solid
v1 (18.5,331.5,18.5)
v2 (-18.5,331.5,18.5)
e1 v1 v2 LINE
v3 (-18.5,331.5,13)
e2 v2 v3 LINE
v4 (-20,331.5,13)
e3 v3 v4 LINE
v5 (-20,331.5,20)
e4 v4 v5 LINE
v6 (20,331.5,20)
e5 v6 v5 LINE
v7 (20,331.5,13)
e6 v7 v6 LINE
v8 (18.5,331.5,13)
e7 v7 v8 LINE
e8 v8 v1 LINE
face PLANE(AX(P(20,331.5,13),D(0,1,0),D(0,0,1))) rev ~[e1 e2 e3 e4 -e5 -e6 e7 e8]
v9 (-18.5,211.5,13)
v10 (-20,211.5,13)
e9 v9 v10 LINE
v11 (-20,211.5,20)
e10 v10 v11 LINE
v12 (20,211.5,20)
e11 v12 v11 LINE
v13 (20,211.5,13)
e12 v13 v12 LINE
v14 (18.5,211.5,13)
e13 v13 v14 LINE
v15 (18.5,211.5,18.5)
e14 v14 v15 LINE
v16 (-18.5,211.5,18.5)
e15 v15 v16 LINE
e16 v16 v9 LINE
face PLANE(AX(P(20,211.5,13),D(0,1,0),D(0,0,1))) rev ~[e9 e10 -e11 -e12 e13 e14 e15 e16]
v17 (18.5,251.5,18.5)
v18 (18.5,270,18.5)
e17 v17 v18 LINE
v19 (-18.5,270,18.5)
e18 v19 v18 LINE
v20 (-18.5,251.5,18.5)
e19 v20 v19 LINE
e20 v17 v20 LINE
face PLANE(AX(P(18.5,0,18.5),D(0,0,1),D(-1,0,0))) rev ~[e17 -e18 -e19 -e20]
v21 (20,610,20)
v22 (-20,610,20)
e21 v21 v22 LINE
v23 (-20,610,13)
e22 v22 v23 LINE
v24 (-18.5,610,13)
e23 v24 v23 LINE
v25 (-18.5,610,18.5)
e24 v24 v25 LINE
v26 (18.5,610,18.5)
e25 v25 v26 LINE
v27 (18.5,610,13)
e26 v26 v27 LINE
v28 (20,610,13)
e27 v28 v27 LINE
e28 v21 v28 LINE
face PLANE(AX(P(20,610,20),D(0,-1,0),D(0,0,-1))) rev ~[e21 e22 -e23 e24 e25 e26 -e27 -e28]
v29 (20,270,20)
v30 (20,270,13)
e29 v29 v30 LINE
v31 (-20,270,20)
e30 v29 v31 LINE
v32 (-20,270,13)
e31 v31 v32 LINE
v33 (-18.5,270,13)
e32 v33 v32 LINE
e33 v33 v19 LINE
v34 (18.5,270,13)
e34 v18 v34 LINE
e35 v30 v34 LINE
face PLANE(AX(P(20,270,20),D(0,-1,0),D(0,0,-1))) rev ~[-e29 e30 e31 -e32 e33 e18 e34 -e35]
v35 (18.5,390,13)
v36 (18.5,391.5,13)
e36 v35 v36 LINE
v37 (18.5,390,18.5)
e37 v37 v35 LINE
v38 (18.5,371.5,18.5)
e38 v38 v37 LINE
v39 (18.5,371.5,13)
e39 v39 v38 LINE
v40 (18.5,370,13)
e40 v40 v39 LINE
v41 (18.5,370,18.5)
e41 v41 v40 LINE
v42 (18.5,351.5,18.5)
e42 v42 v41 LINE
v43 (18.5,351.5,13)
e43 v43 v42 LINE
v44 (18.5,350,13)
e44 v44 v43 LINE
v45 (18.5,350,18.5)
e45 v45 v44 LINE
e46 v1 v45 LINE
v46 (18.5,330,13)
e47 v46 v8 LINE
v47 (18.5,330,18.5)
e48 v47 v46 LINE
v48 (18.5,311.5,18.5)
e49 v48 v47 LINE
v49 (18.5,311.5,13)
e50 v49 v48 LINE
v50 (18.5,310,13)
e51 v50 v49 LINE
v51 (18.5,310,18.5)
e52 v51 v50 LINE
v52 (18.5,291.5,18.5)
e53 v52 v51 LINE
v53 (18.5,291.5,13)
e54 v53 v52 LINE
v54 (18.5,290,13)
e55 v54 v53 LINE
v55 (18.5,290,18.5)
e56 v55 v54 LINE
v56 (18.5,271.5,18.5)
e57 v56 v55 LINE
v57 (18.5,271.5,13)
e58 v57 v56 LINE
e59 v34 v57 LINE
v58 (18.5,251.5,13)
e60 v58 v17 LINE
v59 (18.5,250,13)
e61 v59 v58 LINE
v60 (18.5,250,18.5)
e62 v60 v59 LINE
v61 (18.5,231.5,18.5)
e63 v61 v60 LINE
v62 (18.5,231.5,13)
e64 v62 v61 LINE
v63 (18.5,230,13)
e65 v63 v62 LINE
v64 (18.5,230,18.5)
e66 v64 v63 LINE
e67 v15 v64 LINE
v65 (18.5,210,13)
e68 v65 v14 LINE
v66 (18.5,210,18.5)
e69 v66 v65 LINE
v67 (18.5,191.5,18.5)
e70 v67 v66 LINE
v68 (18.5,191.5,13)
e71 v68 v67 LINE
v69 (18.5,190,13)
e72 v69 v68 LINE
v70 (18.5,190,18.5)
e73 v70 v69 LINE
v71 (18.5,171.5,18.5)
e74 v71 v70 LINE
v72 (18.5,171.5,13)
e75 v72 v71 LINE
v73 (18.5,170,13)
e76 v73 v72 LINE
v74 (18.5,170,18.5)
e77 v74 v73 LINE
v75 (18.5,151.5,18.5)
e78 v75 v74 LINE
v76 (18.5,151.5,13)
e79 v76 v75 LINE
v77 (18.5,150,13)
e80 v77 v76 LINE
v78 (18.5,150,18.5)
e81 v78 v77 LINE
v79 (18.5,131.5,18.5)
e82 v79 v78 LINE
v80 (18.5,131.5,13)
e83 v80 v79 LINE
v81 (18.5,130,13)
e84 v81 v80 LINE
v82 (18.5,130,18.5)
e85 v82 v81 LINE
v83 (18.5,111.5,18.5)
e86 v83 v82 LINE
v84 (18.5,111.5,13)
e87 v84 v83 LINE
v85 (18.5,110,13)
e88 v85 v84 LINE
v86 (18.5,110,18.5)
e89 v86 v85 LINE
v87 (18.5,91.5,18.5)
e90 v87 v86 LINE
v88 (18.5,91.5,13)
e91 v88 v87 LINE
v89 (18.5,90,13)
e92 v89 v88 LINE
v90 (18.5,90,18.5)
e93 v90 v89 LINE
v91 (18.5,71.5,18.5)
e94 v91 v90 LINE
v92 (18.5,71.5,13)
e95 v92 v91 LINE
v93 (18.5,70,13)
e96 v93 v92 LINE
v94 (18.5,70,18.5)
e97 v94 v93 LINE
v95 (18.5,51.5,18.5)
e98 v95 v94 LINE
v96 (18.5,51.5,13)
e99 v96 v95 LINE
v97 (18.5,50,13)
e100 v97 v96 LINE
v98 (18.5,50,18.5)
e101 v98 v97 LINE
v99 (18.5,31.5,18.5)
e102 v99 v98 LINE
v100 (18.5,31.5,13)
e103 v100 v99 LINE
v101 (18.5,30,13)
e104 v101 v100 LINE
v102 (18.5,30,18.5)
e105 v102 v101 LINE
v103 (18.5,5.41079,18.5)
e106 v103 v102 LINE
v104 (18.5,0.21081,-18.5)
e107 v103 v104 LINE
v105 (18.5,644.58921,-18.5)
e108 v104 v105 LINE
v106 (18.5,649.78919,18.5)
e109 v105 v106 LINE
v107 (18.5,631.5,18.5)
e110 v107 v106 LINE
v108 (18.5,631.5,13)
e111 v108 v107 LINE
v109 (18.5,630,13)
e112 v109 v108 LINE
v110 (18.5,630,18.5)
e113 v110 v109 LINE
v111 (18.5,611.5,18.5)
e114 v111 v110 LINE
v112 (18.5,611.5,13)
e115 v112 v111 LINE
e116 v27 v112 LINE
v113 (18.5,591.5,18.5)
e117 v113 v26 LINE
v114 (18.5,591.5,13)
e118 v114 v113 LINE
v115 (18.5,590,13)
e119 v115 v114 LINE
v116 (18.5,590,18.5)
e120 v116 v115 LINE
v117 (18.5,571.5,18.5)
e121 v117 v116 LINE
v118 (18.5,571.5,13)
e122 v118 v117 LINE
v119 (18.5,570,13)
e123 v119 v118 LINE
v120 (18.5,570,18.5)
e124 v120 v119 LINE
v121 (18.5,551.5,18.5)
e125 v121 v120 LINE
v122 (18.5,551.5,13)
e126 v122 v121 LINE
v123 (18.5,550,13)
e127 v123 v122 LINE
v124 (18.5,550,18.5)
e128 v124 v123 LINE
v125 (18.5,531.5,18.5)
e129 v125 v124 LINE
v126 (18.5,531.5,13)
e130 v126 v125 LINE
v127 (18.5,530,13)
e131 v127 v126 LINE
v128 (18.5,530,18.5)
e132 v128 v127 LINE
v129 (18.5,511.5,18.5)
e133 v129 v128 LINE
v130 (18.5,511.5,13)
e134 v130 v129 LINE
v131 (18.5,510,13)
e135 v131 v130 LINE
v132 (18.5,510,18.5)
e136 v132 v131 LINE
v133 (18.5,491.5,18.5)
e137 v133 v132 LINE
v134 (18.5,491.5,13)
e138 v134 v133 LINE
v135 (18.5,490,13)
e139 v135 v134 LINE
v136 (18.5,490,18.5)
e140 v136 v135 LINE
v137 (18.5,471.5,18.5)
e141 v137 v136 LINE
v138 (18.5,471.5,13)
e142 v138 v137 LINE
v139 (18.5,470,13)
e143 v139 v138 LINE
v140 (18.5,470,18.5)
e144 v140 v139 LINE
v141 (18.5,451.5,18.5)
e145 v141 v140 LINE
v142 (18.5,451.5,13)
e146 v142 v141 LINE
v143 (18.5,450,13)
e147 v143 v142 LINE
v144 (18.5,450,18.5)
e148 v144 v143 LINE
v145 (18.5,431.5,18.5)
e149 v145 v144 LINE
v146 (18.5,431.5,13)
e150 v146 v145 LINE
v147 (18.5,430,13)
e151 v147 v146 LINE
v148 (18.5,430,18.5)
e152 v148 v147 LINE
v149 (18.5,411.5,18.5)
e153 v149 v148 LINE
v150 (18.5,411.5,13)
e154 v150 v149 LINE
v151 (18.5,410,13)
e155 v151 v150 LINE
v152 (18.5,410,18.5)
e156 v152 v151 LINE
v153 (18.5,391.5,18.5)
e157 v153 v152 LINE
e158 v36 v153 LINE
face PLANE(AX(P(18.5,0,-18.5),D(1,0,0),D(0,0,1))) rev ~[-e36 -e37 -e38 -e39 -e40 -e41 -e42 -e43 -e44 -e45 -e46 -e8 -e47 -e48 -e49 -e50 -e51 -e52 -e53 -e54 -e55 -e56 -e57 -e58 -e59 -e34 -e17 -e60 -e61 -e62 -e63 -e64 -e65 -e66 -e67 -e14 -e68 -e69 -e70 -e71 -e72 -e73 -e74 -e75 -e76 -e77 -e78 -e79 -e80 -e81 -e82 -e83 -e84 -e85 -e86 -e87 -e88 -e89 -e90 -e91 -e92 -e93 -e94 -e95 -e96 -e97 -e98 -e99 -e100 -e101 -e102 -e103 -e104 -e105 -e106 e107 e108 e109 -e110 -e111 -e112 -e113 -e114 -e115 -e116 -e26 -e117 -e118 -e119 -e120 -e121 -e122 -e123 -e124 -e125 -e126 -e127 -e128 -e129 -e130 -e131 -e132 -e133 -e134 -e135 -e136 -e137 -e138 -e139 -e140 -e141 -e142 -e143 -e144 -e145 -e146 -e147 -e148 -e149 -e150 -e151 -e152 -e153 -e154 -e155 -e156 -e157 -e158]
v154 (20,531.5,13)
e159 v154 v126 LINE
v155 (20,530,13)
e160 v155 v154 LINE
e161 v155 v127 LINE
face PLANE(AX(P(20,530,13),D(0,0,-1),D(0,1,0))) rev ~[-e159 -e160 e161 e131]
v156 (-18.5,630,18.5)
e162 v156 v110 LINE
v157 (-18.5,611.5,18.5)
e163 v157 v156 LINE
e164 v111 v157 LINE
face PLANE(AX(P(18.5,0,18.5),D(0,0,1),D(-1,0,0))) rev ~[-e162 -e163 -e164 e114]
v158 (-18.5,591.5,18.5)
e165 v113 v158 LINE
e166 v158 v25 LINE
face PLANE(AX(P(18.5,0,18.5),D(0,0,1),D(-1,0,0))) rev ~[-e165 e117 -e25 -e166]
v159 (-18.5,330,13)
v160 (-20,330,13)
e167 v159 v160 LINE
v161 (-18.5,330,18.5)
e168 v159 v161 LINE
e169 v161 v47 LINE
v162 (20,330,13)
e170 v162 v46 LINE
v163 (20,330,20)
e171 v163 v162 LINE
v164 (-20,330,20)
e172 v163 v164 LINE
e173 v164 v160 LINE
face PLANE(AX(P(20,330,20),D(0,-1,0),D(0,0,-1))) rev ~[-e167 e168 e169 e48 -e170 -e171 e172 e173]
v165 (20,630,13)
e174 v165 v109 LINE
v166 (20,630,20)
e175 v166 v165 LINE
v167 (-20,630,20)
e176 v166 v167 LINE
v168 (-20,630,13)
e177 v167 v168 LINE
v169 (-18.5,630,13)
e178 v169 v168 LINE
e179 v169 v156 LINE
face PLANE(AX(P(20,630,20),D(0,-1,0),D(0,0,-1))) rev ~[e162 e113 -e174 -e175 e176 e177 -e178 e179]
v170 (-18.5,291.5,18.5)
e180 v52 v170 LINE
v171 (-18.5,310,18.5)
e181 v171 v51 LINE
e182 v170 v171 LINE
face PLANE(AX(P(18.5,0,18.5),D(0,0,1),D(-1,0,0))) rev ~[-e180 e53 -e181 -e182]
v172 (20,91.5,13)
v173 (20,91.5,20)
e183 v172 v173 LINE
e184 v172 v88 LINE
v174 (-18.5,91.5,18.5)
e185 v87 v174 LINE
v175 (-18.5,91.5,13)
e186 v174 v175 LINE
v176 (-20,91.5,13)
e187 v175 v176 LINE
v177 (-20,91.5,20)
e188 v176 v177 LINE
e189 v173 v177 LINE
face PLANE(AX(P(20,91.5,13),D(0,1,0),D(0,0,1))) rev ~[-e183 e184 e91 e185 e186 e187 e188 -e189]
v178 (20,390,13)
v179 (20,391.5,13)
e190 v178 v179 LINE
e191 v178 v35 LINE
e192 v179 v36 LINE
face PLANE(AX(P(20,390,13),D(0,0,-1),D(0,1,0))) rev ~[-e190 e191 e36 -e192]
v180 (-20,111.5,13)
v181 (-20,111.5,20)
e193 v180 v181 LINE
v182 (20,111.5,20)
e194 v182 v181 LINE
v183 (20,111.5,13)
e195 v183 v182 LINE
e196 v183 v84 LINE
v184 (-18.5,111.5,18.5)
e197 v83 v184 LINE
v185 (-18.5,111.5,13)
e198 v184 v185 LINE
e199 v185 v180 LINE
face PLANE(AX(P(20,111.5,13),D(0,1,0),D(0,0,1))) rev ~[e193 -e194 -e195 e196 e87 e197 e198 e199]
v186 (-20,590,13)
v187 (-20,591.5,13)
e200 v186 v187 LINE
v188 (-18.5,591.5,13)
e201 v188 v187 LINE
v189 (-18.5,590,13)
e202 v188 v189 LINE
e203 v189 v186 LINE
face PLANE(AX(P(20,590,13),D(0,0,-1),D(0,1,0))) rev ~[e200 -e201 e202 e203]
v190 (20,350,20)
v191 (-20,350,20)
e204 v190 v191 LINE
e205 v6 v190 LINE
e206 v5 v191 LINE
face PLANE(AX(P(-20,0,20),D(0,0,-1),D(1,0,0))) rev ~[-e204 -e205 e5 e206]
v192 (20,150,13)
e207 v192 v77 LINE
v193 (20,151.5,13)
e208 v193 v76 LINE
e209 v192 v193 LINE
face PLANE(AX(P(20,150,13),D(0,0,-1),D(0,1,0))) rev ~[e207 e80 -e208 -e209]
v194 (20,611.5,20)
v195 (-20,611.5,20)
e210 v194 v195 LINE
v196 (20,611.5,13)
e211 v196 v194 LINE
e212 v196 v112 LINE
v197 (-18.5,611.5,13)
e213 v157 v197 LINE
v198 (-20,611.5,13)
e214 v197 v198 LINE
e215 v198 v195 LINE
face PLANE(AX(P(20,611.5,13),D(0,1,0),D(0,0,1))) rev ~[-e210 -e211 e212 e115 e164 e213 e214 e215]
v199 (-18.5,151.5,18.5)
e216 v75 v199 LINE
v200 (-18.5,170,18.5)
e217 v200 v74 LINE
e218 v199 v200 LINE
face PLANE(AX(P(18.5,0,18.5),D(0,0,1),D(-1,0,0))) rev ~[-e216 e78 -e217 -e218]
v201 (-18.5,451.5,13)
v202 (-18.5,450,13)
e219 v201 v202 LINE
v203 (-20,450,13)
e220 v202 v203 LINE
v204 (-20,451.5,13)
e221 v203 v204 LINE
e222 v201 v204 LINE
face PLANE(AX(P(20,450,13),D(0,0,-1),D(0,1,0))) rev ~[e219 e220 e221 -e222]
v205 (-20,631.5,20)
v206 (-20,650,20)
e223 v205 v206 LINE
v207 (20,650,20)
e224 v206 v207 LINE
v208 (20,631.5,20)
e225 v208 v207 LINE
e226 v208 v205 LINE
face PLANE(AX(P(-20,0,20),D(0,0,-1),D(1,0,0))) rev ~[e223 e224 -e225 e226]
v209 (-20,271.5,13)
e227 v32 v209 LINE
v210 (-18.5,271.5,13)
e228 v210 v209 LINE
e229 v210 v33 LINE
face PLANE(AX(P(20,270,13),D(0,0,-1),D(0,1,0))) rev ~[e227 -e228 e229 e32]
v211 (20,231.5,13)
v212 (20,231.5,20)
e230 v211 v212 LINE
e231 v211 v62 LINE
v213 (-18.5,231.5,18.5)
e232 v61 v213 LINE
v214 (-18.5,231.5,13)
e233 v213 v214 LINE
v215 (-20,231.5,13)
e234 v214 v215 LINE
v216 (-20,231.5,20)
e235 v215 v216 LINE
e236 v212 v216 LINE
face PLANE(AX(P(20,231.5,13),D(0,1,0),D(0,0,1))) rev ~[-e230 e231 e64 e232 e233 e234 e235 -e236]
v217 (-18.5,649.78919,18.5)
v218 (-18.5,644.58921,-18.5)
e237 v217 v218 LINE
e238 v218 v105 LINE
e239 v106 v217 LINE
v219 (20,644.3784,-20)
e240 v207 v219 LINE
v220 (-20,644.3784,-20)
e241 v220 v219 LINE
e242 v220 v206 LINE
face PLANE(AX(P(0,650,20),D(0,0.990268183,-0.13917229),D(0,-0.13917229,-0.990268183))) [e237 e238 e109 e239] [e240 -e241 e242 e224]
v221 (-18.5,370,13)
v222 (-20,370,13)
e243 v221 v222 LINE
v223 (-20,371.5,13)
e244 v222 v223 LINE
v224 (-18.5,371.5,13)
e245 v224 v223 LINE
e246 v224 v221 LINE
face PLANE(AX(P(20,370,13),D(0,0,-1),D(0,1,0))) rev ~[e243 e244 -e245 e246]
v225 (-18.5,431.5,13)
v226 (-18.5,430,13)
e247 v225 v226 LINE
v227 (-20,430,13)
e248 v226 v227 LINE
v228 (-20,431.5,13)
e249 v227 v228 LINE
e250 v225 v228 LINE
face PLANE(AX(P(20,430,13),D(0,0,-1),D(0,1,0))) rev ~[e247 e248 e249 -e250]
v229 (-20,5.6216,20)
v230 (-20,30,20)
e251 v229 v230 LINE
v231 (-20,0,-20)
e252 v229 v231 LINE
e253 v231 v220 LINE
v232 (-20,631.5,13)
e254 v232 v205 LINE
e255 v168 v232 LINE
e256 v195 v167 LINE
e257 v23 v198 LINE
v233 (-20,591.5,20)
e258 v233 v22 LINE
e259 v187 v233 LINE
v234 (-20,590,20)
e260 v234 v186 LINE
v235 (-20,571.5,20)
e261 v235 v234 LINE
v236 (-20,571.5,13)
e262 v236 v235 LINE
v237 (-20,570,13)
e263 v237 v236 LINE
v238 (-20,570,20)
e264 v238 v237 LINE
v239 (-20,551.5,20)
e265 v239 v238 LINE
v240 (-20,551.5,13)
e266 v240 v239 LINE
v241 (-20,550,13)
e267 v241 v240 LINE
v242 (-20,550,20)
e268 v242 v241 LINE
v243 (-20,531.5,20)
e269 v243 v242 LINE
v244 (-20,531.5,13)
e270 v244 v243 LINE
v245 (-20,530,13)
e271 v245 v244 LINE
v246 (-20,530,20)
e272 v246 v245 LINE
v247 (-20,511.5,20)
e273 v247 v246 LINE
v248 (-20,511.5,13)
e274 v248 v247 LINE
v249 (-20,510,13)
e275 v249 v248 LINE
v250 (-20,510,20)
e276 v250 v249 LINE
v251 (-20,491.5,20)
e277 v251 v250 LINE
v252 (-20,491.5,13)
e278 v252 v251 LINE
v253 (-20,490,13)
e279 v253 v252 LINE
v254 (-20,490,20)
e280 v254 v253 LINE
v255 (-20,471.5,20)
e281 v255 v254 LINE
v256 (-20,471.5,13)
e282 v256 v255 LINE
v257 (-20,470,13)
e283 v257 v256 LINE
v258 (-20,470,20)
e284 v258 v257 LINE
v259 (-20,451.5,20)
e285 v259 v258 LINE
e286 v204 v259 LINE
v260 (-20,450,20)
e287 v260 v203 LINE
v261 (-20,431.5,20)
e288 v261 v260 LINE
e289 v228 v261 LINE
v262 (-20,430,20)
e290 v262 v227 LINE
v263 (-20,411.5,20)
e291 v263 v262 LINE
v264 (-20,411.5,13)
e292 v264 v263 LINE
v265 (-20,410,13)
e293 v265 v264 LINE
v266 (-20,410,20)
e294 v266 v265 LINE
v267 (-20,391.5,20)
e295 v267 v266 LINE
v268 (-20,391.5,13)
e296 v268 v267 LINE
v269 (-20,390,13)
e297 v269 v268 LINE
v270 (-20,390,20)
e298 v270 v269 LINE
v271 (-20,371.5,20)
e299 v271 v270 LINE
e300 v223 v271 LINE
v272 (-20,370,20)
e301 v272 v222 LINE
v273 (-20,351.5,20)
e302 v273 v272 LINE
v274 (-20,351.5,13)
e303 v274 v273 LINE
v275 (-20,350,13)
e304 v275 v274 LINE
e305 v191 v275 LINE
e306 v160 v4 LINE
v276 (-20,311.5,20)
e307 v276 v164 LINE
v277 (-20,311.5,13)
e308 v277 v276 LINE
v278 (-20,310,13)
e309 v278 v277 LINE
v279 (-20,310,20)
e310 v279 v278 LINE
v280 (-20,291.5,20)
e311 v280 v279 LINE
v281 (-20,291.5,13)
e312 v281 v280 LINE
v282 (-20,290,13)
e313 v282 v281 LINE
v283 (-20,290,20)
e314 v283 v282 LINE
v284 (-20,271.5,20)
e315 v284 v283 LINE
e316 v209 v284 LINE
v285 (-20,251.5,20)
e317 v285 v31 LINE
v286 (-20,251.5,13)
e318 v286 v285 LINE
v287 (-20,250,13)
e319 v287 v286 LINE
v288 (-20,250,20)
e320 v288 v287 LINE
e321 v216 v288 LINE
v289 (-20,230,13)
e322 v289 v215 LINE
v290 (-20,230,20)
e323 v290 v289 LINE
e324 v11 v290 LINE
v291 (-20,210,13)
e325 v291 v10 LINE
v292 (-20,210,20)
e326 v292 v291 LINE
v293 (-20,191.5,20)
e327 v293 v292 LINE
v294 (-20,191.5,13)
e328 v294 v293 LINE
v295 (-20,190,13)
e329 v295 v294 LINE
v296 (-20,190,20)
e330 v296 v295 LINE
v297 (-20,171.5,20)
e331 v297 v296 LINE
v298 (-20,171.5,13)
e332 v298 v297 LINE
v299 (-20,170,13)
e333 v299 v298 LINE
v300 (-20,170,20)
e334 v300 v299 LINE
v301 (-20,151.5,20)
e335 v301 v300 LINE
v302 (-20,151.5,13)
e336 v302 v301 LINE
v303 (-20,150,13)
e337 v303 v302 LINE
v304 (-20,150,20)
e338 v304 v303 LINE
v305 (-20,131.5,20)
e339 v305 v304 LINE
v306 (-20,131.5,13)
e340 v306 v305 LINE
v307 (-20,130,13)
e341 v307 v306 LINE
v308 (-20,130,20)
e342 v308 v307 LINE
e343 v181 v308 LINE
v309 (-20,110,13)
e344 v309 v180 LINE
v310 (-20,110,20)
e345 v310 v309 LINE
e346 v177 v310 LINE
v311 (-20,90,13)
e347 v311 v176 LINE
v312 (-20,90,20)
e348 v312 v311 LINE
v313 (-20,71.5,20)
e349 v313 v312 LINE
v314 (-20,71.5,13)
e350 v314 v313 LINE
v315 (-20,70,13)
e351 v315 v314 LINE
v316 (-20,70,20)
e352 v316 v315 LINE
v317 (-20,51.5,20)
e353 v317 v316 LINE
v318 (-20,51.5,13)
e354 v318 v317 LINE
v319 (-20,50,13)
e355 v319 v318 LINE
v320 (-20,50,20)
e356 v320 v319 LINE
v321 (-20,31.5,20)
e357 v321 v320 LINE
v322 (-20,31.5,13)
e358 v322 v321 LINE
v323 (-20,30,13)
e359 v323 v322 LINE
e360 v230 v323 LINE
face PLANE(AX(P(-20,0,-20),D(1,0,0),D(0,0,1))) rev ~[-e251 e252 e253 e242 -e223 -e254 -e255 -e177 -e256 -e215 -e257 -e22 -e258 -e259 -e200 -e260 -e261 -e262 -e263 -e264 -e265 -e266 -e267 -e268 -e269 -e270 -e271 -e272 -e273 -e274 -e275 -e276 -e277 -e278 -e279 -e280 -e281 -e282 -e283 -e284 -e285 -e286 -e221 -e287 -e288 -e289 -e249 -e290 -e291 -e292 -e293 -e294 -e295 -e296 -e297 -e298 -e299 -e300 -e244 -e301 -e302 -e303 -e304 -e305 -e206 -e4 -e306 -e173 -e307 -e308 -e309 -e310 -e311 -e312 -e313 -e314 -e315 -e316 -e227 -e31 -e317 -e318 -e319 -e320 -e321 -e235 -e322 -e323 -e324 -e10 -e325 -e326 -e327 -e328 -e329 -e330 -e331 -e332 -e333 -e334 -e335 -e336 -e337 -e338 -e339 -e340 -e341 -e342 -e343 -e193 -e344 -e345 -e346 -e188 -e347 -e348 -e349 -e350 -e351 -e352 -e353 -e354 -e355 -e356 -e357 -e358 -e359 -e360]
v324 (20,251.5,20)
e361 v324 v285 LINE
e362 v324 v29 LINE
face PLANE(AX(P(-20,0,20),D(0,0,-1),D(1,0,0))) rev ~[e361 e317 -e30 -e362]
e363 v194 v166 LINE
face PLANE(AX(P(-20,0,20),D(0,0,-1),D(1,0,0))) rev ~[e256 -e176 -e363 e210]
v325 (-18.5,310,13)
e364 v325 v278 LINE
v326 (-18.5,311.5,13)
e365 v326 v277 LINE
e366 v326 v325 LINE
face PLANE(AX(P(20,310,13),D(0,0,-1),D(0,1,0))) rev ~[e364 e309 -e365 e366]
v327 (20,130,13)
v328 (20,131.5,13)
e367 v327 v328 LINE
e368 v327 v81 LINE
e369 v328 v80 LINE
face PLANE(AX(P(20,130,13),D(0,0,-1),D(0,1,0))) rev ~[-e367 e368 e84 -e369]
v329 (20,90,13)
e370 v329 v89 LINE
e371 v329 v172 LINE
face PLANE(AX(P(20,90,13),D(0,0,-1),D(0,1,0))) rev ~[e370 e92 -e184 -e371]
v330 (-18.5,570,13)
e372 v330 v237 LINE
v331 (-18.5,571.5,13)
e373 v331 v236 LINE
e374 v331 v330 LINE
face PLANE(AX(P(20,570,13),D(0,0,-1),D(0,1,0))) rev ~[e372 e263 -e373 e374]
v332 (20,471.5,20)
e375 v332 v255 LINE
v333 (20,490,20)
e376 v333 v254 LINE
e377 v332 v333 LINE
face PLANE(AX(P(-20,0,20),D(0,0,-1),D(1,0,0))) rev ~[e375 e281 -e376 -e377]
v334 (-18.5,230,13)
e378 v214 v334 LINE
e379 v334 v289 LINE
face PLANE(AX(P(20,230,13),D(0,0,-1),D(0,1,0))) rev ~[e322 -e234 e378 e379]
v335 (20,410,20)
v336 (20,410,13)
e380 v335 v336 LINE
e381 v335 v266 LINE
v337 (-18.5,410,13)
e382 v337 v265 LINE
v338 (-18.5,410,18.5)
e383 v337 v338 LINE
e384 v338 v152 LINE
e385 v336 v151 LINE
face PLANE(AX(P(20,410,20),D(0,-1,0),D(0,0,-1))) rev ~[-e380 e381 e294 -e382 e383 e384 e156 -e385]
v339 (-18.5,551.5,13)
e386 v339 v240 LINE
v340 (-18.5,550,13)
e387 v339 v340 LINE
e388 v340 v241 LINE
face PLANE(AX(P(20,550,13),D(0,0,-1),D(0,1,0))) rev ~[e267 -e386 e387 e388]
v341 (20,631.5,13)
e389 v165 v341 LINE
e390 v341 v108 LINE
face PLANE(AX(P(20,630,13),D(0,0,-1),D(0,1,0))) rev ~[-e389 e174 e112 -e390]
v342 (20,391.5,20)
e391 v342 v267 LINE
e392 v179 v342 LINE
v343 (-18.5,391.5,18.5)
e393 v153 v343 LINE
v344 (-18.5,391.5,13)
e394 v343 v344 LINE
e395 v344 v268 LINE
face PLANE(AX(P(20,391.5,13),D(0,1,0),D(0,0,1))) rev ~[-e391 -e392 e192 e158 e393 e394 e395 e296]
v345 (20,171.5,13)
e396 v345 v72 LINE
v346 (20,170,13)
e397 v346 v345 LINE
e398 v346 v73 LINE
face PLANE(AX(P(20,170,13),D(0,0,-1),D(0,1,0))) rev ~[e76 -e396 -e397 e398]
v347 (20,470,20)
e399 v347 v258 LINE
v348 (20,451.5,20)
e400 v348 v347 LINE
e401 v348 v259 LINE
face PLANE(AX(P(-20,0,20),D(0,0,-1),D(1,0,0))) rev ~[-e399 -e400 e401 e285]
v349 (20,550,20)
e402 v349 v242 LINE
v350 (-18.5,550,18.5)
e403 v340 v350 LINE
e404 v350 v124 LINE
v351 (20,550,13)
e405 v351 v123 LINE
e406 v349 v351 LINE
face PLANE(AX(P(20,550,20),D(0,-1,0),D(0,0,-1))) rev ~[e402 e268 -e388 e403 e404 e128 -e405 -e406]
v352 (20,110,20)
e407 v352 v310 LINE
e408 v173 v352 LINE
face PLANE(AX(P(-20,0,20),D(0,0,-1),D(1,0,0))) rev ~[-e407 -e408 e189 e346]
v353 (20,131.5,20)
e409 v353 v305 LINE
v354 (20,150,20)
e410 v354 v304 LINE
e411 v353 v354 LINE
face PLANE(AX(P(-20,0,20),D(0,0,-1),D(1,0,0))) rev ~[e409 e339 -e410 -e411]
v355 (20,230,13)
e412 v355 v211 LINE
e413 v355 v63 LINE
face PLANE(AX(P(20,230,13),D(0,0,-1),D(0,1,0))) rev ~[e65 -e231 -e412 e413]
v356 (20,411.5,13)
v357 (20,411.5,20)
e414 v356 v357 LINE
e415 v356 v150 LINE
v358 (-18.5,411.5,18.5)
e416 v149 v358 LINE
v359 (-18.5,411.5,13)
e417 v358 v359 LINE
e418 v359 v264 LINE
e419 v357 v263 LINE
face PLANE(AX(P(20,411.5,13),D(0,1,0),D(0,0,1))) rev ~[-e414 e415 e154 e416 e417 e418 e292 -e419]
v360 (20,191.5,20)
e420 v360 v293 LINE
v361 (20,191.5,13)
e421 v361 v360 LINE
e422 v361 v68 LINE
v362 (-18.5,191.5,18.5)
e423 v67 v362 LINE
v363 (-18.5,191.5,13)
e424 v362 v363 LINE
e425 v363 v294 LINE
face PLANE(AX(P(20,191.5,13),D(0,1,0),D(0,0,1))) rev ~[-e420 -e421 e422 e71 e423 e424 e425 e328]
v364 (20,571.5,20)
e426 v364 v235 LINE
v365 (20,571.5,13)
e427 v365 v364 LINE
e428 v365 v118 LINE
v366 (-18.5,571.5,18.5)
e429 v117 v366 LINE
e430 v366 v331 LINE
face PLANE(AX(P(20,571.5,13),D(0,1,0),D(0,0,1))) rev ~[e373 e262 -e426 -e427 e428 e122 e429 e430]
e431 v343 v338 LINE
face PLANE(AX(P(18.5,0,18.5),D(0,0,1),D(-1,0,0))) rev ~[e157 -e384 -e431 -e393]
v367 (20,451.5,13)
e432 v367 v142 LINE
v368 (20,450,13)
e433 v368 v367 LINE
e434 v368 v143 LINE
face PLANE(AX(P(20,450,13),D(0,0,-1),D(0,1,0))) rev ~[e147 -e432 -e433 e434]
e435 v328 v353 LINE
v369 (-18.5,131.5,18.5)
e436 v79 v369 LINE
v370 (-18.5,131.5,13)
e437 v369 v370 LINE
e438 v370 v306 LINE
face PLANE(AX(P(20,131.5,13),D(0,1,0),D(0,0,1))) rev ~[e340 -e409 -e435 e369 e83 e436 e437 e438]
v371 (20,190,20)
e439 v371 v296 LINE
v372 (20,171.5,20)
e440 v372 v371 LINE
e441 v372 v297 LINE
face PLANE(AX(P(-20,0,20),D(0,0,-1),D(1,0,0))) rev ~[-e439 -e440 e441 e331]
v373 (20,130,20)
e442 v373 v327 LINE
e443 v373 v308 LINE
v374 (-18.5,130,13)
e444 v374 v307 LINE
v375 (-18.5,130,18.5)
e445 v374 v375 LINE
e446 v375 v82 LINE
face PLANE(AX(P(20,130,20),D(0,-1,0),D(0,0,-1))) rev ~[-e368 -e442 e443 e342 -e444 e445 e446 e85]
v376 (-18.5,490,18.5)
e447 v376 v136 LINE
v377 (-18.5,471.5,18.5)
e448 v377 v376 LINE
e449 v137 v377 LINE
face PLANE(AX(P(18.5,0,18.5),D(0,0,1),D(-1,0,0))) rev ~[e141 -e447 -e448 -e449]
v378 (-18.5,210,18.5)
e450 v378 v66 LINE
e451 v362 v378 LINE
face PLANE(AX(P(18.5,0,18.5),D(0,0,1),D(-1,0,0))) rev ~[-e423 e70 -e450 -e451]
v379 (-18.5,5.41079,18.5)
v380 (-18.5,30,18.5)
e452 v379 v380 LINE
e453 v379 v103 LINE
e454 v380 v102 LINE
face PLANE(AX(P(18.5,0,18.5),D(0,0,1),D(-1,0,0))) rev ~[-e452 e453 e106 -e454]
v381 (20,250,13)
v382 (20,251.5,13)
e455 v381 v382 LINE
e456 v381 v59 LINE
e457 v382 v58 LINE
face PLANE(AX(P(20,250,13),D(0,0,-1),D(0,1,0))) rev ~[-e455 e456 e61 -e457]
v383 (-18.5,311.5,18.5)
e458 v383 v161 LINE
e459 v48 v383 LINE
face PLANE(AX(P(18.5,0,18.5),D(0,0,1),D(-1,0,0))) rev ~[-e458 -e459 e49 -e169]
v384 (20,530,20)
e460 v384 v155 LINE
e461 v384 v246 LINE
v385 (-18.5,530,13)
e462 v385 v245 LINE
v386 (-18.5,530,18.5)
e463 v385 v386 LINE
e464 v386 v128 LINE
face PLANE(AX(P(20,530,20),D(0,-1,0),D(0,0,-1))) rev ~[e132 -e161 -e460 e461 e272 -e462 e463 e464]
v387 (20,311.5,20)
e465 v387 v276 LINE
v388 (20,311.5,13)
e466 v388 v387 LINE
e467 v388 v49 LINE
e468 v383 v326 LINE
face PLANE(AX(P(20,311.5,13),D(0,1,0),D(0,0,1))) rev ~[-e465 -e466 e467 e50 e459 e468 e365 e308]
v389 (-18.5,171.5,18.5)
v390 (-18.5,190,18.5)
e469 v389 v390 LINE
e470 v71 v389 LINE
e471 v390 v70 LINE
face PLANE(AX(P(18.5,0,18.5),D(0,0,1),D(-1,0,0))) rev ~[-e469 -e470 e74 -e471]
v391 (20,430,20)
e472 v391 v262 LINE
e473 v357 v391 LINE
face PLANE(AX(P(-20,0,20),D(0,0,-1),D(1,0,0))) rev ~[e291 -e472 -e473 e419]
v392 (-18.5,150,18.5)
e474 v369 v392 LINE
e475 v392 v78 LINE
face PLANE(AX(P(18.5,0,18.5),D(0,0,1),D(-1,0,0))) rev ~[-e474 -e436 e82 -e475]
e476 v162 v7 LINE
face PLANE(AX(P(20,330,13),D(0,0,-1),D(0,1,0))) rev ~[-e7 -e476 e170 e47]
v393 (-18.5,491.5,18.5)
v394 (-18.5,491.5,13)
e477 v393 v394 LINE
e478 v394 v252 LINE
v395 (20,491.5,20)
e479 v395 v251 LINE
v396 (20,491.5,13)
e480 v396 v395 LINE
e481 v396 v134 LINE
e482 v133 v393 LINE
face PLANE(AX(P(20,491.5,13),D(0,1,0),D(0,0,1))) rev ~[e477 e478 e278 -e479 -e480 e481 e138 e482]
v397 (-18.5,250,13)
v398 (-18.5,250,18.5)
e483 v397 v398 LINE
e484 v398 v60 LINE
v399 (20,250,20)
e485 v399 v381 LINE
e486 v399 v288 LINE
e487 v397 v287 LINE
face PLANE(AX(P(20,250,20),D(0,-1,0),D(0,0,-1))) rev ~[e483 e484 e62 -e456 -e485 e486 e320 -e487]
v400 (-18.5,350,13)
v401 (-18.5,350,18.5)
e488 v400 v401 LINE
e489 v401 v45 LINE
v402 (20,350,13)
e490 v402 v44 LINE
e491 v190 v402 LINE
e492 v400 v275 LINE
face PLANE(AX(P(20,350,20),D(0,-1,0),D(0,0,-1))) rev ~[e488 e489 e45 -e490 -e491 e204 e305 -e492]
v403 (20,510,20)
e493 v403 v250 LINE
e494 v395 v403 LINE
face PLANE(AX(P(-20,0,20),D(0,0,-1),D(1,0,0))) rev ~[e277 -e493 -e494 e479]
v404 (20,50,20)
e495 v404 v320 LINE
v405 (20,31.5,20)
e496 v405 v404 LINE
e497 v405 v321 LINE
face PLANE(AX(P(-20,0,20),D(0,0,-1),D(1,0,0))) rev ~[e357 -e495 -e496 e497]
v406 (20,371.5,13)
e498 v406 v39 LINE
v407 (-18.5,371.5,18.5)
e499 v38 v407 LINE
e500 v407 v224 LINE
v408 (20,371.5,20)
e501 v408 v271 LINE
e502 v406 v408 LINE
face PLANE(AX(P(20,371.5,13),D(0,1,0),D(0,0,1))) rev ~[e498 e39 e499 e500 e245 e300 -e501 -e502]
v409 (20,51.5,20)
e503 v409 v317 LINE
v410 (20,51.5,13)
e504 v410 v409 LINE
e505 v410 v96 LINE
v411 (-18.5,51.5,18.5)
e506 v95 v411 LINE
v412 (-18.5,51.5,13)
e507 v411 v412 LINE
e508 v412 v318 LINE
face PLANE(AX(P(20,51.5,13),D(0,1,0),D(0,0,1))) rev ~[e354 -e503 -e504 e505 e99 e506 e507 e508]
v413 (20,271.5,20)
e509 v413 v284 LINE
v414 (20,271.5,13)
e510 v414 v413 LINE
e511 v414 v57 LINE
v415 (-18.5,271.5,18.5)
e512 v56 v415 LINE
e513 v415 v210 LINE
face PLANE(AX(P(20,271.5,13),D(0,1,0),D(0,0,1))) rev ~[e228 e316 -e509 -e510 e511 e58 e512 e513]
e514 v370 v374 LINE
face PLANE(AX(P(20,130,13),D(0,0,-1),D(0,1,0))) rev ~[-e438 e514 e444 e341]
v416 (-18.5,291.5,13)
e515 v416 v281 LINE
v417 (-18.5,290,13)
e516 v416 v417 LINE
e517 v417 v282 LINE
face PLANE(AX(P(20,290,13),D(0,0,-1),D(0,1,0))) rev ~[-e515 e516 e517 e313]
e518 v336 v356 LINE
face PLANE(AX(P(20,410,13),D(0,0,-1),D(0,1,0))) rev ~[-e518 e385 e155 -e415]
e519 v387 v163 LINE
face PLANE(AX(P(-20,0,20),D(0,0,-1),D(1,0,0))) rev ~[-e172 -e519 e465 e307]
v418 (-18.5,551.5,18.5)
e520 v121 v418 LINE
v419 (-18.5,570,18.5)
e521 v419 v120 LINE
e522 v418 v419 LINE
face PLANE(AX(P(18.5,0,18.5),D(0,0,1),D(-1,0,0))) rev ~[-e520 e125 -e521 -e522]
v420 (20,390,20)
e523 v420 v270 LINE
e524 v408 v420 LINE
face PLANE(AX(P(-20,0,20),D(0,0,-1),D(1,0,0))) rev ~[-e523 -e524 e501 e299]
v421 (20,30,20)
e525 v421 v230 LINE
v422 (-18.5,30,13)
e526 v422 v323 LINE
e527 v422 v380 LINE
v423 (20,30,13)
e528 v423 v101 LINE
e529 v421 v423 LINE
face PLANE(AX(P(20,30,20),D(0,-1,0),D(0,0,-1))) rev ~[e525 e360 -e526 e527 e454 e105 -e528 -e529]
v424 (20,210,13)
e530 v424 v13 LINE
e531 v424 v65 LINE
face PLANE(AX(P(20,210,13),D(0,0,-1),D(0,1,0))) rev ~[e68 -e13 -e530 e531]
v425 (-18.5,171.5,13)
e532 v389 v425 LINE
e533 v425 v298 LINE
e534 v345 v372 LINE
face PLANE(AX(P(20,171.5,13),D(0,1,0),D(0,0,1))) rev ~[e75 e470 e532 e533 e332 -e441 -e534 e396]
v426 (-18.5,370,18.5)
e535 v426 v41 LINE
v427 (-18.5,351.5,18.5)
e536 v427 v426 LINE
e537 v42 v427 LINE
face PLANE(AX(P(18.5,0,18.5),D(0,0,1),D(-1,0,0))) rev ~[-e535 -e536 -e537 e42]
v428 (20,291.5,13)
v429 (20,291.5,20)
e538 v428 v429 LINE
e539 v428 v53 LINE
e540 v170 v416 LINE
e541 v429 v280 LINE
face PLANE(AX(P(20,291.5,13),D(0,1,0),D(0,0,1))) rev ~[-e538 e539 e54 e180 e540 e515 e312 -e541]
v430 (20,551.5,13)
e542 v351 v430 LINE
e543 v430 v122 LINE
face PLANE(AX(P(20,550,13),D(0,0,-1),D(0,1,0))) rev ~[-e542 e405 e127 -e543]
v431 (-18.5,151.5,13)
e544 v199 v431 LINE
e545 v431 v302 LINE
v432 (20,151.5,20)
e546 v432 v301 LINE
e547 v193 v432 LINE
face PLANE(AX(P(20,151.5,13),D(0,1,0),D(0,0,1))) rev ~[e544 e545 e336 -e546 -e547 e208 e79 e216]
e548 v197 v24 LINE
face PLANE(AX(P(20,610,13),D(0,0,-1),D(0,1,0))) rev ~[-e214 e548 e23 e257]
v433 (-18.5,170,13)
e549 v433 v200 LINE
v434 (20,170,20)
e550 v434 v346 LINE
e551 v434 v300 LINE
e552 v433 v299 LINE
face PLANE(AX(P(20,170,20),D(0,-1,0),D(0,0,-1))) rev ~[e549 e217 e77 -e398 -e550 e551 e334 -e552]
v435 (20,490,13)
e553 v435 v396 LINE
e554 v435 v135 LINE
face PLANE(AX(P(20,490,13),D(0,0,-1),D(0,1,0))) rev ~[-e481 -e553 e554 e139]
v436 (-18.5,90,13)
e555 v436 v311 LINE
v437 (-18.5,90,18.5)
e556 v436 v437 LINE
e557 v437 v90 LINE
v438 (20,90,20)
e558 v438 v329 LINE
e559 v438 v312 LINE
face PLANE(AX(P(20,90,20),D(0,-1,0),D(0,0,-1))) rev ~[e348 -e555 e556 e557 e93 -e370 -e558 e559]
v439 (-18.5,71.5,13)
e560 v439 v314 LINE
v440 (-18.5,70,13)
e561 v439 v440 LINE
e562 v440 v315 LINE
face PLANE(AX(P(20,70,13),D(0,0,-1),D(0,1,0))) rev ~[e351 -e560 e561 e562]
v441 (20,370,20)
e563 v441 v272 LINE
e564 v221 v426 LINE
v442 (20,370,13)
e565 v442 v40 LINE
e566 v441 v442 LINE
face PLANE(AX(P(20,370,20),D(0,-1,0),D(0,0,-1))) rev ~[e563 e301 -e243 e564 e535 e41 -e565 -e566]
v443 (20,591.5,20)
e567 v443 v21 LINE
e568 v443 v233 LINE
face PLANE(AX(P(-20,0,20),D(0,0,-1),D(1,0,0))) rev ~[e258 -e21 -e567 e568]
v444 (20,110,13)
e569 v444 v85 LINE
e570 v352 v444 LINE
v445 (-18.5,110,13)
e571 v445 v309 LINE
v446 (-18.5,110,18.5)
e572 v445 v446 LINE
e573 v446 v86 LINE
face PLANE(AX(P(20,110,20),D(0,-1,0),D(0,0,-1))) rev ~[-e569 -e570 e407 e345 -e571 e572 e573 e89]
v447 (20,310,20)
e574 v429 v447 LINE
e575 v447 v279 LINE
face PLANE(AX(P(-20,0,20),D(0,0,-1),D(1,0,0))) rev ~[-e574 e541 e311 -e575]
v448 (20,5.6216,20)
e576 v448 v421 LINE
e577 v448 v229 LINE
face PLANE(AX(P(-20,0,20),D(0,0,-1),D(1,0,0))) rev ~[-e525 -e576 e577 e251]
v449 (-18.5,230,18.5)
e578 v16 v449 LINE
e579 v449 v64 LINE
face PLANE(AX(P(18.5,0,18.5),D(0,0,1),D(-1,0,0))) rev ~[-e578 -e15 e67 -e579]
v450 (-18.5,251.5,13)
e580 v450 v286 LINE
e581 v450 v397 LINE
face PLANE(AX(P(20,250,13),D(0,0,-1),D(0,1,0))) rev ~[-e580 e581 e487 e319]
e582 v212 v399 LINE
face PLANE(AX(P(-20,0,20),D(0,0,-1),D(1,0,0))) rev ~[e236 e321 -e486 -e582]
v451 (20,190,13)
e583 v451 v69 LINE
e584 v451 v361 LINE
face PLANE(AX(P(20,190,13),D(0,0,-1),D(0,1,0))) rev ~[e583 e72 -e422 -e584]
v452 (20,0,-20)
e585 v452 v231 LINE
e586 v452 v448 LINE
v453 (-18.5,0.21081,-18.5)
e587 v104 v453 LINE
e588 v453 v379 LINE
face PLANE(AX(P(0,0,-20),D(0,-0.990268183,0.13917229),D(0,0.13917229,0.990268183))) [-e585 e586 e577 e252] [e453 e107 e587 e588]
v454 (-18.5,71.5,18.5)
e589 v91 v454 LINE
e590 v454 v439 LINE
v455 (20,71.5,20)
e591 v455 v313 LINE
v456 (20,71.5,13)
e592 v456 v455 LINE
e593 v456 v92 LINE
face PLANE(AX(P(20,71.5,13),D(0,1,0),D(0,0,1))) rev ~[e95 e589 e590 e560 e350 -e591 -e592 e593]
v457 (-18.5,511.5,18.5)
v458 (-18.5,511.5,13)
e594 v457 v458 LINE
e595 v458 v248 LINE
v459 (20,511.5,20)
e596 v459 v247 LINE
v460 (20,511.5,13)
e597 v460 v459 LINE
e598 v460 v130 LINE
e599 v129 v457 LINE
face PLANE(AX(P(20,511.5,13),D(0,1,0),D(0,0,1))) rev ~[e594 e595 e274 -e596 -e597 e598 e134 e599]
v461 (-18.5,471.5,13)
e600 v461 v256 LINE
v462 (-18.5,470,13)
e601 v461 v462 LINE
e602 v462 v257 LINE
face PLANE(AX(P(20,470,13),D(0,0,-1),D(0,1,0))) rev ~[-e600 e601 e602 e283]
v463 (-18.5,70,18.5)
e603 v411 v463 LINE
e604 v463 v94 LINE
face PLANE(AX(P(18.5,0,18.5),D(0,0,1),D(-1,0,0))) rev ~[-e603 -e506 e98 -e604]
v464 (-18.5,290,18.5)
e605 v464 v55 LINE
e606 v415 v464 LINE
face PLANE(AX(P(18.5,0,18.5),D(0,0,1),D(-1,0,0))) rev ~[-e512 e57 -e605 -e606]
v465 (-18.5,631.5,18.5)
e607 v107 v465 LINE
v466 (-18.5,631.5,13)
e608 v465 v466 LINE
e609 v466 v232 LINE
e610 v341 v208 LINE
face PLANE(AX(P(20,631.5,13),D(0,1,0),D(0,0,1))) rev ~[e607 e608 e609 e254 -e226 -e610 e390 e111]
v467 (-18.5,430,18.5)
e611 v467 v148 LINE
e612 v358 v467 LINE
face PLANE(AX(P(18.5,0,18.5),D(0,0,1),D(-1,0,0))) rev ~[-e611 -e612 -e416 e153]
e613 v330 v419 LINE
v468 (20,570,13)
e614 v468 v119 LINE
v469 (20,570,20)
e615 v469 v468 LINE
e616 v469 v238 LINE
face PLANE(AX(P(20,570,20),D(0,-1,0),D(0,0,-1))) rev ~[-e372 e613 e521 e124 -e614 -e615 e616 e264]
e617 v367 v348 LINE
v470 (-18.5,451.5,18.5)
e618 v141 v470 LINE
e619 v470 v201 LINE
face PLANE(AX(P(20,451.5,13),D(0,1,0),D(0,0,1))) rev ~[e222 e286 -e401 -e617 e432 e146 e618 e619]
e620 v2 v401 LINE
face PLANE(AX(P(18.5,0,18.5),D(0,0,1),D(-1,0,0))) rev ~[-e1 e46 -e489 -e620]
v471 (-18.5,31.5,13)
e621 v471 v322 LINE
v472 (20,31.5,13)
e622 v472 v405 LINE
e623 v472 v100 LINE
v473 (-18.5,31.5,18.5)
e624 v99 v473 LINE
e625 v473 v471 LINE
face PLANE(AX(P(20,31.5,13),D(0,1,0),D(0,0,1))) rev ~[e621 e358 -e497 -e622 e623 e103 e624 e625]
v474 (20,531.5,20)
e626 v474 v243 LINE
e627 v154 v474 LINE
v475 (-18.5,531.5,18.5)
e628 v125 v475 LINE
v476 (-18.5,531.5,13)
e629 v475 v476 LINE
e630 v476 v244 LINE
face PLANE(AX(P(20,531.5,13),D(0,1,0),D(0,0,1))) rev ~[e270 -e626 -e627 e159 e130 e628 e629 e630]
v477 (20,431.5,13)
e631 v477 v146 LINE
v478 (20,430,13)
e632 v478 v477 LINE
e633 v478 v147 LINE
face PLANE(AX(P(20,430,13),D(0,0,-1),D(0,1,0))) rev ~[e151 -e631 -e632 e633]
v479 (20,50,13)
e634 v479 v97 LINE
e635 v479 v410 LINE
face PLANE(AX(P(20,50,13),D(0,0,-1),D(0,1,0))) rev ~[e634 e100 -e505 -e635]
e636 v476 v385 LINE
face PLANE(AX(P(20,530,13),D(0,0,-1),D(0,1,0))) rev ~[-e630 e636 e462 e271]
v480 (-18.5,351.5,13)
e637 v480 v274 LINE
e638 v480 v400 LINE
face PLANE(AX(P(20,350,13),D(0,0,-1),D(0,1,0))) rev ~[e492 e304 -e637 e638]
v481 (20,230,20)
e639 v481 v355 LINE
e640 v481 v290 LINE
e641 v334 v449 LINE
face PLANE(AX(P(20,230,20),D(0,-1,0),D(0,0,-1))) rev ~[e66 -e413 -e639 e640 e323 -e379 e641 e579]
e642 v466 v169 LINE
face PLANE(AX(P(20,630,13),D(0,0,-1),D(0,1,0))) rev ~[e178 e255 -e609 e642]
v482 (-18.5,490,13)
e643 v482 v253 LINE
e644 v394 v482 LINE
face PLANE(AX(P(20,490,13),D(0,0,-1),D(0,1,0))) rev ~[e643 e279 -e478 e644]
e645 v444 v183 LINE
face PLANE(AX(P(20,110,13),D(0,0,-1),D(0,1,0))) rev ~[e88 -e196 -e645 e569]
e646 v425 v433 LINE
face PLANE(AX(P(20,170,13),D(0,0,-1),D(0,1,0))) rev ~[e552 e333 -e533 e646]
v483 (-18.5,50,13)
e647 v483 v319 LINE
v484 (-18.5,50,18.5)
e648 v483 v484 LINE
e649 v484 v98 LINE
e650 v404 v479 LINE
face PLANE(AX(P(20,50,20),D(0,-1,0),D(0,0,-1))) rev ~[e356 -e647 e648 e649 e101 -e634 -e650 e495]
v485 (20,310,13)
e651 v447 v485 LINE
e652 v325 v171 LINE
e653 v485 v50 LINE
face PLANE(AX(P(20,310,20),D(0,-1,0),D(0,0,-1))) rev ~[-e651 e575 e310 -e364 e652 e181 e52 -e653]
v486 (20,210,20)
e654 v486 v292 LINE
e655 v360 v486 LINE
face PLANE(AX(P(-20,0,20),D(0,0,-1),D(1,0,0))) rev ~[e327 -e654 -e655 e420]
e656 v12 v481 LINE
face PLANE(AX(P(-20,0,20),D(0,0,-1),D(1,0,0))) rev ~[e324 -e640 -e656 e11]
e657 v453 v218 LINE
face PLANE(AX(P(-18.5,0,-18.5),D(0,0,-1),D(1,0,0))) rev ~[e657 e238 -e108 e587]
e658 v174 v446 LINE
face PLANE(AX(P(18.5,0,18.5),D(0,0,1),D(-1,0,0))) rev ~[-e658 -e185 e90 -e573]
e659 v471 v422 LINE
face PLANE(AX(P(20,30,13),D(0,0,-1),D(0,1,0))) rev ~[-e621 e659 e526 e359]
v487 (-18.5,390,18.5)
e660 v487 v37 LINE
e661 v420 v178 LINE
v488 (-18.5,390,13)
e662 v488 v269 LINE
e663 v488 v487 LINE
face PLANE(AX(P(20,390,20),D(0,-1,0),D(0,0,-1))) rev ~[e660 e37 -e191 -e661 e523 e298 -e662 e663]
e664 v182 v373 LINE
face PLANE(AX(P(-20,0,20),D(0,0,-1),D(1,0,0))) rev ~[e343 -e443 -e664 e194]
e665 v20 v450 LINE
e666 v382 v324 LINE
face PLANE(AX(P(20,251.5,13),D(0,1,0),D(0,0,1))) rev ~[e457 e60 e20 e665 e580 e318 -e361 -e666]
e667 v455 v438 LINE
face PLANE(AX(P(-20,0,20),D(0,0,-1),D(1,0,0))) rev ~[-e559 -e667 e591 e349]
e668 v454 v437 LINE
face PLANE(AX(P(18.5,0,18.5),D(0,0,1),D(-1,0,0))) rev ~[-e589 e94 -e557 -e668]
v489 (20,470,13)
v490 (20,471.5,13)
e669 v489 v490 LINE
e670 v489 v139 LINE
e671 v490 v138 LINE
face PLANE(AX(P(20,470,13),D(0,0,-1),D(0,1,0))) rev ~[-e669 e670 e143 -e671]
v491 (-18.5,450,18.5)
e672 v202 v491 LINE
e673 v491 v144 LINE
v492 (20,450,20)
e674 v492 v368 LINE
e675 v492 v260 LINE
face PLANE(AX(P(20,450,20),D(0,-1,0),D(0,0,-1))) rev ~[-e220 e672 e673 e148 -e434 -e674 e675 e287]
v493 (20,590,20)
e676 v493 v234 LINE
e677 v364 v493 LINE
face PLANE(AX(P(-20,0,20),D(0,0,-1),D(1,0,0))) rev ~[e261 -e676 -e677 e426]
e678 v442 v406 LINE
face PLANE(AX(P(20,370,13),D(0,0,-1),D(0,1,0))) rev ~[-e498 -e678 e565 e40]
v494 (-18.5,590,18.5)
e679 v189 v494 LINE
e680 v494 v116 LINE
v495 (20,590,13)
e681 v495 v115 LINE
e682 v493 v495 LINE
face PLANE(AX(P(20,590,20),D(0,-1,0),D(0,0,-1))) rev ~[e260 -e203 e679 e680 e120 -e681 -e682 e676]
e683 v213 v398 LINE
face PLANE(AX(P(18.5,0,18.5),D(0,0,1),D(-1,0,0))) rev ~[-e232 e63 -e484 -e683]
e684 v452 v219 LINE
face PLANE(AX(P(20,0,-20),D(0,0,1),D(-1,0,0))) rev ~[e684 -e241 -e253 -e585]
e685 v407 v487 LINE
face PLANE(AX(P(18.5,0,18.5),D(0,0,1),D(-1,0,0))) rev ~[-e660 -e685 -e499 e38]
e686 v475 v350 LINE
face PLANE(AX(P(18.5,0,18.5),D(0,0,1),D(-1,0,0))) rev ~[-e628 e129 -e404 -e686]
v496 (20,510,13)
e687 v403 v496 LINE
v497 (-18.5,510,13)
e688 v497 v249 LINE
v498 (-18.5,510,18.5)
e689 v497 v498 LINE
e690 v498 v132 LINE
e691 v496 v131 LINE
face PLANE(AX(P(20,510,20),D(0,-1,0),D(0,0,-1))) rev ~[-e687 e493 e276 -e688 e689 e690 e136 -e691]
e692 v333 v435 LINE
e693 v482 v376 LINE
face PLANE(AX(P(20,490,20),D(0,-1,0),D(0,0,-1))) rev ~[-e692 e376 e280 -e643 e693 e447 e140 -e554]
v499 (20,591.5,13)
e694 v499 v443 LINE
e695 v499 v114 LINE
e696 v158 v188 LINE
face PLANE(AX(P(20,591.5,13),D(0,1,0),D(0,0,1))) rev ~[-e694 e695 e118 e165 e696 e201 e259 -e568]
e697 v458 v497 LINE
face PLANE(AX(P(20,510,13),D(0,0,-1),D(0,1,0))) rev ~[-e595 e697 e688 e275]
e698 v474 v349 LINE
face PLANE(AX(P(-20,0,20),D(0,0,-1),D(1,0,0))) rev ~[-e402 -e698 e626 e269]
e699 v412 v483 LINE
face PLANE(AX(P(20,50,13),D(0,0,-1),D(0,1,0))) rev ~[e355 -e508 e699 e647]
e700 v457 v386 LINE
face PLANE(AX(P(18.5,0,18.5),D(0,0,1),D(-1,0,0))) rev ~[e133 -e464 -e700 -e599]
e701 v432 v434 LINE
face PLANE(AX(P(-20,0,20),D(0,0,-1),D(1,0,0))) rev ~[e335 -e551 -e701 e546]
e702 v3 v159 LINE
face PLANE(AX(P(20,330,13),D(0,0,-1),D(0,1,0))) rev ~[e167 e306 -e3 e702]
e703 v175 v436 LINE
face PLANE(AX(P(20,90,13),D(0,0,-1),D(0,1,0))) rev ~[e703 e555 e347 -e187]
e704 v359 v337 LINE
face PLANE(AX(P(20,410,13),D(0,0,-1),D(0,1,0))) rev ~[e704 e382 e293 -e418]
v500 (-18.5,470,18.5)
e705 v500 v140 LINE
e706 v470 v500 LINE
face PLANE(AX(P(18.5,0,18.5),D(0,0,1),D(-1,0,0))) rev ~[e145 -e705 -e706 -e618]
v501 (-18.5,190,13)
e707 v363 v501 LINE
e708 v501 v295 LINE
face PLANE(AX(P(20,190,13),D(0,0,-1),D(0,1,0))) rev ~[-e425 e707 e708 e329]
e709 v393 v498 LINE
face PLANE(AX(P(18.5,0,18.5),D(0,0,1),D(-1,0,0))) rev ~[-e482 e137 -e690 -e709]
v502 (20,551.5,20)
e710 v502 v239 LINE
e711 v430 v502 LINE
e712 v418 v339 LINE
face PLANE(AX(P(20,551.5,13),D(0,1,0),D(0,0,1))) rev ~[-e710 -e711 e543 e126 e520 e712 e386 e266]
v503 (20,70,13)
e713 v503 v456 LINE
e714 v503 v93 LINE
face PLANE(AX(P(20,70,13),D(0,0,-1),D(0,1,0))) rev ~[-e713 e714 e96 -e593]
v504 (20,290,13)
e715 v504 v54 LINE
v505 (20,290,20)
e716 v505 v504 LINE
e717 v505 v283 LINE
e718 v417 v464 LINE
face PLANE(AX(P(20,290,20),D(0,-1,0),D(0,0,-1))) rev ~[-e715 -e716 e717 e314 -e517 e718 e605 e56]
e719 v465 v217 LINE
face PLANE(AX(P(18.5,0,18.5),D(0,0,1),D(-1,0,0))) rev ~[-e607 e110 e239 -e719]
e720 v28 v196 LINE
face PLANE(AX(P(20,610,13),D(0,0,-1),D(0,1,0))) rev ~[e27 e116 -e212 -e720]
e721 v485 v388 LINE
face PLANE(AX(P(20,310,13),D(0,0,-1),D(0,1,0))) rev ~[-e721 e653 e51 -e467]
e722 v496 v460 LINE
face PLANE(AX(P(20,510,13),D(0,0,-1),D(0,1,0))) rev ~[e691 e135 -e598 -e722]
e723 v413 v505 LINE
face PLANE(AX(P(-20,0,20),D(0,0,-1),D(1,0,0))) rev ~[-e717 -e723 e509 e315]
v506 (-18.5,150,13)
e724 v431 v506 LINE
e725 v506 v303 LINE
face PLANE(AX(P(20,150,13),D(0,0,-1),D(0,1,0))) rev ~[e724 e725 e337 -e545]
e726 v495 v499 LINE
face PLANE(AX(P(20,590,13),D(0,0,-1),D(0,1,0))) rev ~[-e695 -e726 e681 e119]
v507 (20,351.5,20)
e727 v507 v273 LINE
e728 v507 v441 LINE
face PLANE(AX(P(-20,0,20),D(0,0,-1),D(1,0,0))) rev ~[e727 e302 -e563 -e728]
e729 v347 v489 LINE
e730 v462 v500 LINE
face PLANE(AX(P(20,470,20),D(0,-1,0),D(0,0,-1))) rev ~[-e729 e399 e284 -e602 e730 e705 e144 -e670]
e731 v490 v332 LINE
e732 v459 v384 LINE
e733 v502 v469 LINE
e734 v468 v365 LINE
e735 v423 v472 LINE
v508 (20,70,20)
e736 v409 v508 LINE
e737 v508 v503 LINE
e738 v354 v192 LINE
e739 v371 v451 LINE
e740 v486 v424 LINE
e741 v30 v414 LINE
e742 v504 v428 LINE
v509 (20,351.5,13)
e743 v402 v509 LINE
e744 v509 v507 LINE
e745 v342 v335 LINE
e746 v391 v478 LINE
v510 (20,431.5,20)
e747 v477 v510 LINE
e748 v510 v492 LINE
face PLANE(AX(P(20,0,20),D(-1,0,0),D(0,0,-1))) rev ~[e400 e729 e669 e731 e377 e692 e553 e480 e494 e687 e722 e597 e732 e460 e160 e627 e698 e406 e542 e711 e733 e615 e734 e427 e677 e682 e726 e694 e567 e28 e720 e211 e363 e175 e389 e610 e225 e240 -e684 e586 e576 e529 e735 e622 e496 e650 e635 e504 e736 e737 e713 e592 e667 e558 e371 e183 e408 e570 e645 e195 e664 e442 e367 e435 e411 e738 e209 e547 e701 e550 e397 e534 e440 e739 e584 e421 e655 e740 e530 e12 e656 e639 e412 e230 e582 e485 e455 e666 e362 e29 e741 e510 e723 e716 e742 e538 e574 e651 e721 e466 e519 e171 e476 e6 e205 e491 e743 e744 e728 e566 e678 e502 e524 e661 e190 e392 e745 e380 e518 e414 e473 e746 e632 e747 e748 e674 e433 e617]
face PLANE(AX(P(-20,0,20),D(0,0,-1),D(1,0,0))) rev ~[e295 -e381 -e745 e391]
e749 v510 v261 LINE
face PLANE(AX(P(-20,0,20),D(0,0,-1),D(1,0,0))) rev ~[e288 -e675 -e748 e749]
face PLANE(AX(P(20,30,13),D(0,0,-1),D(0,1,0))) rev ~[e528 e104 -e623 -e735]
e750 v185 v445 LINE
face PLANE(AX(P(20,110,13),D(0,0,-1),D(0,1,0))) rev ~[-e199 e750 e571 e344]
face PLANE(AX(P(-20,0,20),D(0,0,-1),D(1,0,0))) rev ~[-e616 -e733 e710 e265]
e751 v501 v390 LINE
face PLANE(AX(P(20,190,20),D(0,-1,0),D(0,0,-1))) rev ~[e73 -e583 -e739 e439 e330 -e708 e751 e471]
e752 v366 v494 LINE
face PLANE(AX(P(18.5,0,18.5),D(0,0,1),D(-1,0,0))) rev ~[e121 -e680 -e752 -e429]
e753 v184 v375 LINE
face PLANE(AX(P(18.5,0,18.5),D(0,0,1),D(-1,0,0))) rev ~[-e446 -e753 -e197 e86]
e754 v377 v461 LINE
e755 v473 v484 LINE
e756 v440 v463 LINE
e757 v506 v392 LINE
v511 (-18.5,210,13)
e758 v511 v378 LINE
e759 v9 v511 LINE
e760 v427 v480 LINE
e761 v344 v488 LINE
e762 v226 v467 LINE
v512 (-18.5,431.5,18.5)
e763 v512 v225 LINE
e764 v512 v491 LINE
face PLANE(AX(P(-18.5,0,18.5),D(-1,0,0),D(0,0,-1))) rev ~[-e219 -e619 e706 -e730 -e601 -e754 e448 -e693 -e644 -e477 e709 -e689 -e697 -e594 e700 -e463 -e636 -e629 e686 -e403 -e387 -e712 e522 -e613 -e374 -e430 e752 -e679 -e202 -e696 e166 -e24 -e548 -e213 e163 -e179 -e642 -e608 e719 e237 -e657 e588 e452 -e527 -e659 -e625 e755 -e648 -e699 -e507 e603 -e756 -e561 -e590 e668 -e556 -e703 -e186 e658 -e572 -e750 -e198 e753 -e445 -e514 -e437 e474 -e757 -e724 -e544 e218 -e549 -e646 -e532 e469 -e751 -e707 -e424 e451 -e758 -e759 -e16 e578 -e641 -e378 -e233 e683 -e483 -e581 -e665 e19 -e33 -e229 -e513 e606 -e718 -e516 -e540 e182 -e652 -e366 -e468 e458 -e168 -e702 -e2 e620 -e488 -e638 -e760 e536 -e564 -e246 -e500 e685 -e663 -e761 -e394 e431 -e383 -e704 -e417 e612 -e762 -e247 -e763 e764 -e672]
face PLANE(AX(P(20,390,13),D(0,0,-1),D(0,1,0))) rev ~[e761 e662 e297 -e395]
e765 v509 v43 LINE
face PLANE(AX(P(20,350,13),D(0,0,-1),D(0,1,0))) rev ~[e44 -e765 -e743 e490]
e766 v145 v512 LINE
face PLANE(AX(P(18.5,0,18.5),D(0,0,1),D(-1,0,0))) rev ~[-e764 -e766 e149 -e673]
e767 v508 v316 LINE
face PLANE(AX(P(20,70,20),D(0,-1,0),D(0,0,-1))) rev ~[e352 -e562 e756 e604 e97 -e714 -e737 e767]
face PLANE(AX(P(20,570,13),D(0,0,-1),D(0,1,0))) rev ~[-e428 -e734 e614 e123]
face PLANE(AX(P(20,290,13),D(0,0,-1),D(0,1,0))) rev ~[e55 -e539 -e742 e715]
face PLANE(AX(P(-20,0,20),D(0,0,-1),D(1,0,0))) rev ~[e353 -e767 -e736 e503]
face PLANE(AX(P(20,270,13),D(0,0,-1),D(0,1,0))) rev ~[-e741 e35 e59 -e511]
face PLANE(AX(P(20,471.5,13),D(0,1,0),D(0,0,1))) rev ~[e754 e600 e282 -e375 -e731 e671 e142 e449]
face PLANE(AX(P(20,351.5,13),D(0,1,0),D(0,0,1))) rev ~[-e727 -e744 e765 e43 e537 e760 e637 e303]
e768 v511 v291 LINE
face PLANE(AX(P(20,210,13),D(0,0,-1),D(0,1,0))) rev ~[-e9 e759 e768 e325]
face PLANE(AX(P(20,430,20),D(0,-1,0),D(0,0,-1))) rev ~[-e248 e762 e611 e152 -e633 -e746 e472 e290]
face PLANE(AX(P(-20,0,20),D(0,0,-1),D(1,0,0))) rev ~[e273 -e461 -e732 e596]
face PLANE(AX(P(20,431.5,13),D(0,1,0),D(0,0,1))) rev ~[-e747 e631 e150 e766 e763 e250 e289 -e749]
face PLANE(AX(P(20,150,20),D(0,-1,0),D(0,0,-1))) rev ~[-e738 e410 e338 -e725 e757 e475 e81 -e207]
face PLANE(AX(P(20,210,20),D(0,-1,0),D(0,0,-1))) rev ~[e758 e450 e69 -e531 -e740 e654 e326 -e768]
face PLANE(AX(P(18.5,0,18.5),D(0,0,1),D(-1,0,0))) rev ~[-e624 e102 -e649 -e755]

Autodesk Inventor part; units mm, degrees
ref_plane "YZ Plane" through (0, 0, 0) normal (1, 0, 0) x (0, 1, 0)
ref_plane "XZ Plane" through (0, 0, 0) normal (0, 1, 0) x (-1, 0, 0)
ref_plane "XY Plane" through (0, 0, 0) normal (0, 0, 1) x (1, 0, 0)
sketch "Sketch1" plane through (0, 0, 0) normal (0, 1, 0) x (-1, 0, 0)
  line L0 (20, 20) -> (-20, 20)
  line L1 (-20, 20) -> (-20, -20)
  line L2 (-20, -20) -> (20, -20)
  line L3 (20, -20) -> (20, 20)
  line L4 (20, 20) -> (-20, -20) construction
  line L5 (-20, 20) -> (20, -20) construction
  line L6 (-18.5, 18.5) -> (18.5, 18.5)
  line L7 (18.5, 18.5) -> (18.5, -18.5)
  line L8 (18.5, -18.5) -> (-18.5, -18.5)
  line L9 (-18.5, -18.5) -> (-18.5, 18.5)
  point P0 (0, 0)
  dimension "d7" = 40
  dimension "d8" = 40
  dimension "d9" = 1.5
extrude "Extrusion1" add sketch "Sketch1" along normal blind 650
sketch "Sketch2" plane through (20, 0, 20) normal (1, 0, 0) x (0, 0, -1)
  line L0 (0, 0) -> (0, 650) projected
  line L1 (0, 30) -> (7, 30)
  line L2 (7, 30) -> (7, 31.5)
  line L3 (7, 31.5) -> (0, 31.5)
  line L4 (0, 31.5) -> (0, 30)
  point P0 (20, 0)
  point P1 (0, 31.5)
  dimension "d10" = 7
  dimension "d11" = 1.5
  dimension "d17" = 30
extrude "Extrusion2" cut sketch "Sketch2" against normal through all
pattern_linear "Rectangular Pattern1" count 49 spacing 20 along (0, 1, 0) of "Extrusion2"
sketch "Sketch5" plane through (0, 0, 0) normal (1, 0, 0) x (0, 1, 0)
  line L0 (0, 20) -> (0, -20) projected
  line L1 (0, 20) -> (30, 20) projected
  line L2 (0, -20) -> (5.6216, 20)
  line L3 (650, -20) -> (650, 20) projected
  line L4 (650, 20) -> (644.3784, -20)
  line L5 (0, -20) -> (650, -20) projected
  point P0 (0, 0)
  dimension "d18" = 8
  dimension "d21" = 8
extrude "Extrusion3" cut sketch "Sketch5" along normal through all both and the other way through all
equation "\"d1\" = BEAM_1_lenth"
equation "\"d18\" = BEAM_1_angle"
equation "\"d21\" = d18"
equation "\"BEAM_1_lenth\" = 650"
equation "\"BEAM_1_angle\" = 8deg"
properties part number "DSB-501 beam 1" material "Stainless Steel"
